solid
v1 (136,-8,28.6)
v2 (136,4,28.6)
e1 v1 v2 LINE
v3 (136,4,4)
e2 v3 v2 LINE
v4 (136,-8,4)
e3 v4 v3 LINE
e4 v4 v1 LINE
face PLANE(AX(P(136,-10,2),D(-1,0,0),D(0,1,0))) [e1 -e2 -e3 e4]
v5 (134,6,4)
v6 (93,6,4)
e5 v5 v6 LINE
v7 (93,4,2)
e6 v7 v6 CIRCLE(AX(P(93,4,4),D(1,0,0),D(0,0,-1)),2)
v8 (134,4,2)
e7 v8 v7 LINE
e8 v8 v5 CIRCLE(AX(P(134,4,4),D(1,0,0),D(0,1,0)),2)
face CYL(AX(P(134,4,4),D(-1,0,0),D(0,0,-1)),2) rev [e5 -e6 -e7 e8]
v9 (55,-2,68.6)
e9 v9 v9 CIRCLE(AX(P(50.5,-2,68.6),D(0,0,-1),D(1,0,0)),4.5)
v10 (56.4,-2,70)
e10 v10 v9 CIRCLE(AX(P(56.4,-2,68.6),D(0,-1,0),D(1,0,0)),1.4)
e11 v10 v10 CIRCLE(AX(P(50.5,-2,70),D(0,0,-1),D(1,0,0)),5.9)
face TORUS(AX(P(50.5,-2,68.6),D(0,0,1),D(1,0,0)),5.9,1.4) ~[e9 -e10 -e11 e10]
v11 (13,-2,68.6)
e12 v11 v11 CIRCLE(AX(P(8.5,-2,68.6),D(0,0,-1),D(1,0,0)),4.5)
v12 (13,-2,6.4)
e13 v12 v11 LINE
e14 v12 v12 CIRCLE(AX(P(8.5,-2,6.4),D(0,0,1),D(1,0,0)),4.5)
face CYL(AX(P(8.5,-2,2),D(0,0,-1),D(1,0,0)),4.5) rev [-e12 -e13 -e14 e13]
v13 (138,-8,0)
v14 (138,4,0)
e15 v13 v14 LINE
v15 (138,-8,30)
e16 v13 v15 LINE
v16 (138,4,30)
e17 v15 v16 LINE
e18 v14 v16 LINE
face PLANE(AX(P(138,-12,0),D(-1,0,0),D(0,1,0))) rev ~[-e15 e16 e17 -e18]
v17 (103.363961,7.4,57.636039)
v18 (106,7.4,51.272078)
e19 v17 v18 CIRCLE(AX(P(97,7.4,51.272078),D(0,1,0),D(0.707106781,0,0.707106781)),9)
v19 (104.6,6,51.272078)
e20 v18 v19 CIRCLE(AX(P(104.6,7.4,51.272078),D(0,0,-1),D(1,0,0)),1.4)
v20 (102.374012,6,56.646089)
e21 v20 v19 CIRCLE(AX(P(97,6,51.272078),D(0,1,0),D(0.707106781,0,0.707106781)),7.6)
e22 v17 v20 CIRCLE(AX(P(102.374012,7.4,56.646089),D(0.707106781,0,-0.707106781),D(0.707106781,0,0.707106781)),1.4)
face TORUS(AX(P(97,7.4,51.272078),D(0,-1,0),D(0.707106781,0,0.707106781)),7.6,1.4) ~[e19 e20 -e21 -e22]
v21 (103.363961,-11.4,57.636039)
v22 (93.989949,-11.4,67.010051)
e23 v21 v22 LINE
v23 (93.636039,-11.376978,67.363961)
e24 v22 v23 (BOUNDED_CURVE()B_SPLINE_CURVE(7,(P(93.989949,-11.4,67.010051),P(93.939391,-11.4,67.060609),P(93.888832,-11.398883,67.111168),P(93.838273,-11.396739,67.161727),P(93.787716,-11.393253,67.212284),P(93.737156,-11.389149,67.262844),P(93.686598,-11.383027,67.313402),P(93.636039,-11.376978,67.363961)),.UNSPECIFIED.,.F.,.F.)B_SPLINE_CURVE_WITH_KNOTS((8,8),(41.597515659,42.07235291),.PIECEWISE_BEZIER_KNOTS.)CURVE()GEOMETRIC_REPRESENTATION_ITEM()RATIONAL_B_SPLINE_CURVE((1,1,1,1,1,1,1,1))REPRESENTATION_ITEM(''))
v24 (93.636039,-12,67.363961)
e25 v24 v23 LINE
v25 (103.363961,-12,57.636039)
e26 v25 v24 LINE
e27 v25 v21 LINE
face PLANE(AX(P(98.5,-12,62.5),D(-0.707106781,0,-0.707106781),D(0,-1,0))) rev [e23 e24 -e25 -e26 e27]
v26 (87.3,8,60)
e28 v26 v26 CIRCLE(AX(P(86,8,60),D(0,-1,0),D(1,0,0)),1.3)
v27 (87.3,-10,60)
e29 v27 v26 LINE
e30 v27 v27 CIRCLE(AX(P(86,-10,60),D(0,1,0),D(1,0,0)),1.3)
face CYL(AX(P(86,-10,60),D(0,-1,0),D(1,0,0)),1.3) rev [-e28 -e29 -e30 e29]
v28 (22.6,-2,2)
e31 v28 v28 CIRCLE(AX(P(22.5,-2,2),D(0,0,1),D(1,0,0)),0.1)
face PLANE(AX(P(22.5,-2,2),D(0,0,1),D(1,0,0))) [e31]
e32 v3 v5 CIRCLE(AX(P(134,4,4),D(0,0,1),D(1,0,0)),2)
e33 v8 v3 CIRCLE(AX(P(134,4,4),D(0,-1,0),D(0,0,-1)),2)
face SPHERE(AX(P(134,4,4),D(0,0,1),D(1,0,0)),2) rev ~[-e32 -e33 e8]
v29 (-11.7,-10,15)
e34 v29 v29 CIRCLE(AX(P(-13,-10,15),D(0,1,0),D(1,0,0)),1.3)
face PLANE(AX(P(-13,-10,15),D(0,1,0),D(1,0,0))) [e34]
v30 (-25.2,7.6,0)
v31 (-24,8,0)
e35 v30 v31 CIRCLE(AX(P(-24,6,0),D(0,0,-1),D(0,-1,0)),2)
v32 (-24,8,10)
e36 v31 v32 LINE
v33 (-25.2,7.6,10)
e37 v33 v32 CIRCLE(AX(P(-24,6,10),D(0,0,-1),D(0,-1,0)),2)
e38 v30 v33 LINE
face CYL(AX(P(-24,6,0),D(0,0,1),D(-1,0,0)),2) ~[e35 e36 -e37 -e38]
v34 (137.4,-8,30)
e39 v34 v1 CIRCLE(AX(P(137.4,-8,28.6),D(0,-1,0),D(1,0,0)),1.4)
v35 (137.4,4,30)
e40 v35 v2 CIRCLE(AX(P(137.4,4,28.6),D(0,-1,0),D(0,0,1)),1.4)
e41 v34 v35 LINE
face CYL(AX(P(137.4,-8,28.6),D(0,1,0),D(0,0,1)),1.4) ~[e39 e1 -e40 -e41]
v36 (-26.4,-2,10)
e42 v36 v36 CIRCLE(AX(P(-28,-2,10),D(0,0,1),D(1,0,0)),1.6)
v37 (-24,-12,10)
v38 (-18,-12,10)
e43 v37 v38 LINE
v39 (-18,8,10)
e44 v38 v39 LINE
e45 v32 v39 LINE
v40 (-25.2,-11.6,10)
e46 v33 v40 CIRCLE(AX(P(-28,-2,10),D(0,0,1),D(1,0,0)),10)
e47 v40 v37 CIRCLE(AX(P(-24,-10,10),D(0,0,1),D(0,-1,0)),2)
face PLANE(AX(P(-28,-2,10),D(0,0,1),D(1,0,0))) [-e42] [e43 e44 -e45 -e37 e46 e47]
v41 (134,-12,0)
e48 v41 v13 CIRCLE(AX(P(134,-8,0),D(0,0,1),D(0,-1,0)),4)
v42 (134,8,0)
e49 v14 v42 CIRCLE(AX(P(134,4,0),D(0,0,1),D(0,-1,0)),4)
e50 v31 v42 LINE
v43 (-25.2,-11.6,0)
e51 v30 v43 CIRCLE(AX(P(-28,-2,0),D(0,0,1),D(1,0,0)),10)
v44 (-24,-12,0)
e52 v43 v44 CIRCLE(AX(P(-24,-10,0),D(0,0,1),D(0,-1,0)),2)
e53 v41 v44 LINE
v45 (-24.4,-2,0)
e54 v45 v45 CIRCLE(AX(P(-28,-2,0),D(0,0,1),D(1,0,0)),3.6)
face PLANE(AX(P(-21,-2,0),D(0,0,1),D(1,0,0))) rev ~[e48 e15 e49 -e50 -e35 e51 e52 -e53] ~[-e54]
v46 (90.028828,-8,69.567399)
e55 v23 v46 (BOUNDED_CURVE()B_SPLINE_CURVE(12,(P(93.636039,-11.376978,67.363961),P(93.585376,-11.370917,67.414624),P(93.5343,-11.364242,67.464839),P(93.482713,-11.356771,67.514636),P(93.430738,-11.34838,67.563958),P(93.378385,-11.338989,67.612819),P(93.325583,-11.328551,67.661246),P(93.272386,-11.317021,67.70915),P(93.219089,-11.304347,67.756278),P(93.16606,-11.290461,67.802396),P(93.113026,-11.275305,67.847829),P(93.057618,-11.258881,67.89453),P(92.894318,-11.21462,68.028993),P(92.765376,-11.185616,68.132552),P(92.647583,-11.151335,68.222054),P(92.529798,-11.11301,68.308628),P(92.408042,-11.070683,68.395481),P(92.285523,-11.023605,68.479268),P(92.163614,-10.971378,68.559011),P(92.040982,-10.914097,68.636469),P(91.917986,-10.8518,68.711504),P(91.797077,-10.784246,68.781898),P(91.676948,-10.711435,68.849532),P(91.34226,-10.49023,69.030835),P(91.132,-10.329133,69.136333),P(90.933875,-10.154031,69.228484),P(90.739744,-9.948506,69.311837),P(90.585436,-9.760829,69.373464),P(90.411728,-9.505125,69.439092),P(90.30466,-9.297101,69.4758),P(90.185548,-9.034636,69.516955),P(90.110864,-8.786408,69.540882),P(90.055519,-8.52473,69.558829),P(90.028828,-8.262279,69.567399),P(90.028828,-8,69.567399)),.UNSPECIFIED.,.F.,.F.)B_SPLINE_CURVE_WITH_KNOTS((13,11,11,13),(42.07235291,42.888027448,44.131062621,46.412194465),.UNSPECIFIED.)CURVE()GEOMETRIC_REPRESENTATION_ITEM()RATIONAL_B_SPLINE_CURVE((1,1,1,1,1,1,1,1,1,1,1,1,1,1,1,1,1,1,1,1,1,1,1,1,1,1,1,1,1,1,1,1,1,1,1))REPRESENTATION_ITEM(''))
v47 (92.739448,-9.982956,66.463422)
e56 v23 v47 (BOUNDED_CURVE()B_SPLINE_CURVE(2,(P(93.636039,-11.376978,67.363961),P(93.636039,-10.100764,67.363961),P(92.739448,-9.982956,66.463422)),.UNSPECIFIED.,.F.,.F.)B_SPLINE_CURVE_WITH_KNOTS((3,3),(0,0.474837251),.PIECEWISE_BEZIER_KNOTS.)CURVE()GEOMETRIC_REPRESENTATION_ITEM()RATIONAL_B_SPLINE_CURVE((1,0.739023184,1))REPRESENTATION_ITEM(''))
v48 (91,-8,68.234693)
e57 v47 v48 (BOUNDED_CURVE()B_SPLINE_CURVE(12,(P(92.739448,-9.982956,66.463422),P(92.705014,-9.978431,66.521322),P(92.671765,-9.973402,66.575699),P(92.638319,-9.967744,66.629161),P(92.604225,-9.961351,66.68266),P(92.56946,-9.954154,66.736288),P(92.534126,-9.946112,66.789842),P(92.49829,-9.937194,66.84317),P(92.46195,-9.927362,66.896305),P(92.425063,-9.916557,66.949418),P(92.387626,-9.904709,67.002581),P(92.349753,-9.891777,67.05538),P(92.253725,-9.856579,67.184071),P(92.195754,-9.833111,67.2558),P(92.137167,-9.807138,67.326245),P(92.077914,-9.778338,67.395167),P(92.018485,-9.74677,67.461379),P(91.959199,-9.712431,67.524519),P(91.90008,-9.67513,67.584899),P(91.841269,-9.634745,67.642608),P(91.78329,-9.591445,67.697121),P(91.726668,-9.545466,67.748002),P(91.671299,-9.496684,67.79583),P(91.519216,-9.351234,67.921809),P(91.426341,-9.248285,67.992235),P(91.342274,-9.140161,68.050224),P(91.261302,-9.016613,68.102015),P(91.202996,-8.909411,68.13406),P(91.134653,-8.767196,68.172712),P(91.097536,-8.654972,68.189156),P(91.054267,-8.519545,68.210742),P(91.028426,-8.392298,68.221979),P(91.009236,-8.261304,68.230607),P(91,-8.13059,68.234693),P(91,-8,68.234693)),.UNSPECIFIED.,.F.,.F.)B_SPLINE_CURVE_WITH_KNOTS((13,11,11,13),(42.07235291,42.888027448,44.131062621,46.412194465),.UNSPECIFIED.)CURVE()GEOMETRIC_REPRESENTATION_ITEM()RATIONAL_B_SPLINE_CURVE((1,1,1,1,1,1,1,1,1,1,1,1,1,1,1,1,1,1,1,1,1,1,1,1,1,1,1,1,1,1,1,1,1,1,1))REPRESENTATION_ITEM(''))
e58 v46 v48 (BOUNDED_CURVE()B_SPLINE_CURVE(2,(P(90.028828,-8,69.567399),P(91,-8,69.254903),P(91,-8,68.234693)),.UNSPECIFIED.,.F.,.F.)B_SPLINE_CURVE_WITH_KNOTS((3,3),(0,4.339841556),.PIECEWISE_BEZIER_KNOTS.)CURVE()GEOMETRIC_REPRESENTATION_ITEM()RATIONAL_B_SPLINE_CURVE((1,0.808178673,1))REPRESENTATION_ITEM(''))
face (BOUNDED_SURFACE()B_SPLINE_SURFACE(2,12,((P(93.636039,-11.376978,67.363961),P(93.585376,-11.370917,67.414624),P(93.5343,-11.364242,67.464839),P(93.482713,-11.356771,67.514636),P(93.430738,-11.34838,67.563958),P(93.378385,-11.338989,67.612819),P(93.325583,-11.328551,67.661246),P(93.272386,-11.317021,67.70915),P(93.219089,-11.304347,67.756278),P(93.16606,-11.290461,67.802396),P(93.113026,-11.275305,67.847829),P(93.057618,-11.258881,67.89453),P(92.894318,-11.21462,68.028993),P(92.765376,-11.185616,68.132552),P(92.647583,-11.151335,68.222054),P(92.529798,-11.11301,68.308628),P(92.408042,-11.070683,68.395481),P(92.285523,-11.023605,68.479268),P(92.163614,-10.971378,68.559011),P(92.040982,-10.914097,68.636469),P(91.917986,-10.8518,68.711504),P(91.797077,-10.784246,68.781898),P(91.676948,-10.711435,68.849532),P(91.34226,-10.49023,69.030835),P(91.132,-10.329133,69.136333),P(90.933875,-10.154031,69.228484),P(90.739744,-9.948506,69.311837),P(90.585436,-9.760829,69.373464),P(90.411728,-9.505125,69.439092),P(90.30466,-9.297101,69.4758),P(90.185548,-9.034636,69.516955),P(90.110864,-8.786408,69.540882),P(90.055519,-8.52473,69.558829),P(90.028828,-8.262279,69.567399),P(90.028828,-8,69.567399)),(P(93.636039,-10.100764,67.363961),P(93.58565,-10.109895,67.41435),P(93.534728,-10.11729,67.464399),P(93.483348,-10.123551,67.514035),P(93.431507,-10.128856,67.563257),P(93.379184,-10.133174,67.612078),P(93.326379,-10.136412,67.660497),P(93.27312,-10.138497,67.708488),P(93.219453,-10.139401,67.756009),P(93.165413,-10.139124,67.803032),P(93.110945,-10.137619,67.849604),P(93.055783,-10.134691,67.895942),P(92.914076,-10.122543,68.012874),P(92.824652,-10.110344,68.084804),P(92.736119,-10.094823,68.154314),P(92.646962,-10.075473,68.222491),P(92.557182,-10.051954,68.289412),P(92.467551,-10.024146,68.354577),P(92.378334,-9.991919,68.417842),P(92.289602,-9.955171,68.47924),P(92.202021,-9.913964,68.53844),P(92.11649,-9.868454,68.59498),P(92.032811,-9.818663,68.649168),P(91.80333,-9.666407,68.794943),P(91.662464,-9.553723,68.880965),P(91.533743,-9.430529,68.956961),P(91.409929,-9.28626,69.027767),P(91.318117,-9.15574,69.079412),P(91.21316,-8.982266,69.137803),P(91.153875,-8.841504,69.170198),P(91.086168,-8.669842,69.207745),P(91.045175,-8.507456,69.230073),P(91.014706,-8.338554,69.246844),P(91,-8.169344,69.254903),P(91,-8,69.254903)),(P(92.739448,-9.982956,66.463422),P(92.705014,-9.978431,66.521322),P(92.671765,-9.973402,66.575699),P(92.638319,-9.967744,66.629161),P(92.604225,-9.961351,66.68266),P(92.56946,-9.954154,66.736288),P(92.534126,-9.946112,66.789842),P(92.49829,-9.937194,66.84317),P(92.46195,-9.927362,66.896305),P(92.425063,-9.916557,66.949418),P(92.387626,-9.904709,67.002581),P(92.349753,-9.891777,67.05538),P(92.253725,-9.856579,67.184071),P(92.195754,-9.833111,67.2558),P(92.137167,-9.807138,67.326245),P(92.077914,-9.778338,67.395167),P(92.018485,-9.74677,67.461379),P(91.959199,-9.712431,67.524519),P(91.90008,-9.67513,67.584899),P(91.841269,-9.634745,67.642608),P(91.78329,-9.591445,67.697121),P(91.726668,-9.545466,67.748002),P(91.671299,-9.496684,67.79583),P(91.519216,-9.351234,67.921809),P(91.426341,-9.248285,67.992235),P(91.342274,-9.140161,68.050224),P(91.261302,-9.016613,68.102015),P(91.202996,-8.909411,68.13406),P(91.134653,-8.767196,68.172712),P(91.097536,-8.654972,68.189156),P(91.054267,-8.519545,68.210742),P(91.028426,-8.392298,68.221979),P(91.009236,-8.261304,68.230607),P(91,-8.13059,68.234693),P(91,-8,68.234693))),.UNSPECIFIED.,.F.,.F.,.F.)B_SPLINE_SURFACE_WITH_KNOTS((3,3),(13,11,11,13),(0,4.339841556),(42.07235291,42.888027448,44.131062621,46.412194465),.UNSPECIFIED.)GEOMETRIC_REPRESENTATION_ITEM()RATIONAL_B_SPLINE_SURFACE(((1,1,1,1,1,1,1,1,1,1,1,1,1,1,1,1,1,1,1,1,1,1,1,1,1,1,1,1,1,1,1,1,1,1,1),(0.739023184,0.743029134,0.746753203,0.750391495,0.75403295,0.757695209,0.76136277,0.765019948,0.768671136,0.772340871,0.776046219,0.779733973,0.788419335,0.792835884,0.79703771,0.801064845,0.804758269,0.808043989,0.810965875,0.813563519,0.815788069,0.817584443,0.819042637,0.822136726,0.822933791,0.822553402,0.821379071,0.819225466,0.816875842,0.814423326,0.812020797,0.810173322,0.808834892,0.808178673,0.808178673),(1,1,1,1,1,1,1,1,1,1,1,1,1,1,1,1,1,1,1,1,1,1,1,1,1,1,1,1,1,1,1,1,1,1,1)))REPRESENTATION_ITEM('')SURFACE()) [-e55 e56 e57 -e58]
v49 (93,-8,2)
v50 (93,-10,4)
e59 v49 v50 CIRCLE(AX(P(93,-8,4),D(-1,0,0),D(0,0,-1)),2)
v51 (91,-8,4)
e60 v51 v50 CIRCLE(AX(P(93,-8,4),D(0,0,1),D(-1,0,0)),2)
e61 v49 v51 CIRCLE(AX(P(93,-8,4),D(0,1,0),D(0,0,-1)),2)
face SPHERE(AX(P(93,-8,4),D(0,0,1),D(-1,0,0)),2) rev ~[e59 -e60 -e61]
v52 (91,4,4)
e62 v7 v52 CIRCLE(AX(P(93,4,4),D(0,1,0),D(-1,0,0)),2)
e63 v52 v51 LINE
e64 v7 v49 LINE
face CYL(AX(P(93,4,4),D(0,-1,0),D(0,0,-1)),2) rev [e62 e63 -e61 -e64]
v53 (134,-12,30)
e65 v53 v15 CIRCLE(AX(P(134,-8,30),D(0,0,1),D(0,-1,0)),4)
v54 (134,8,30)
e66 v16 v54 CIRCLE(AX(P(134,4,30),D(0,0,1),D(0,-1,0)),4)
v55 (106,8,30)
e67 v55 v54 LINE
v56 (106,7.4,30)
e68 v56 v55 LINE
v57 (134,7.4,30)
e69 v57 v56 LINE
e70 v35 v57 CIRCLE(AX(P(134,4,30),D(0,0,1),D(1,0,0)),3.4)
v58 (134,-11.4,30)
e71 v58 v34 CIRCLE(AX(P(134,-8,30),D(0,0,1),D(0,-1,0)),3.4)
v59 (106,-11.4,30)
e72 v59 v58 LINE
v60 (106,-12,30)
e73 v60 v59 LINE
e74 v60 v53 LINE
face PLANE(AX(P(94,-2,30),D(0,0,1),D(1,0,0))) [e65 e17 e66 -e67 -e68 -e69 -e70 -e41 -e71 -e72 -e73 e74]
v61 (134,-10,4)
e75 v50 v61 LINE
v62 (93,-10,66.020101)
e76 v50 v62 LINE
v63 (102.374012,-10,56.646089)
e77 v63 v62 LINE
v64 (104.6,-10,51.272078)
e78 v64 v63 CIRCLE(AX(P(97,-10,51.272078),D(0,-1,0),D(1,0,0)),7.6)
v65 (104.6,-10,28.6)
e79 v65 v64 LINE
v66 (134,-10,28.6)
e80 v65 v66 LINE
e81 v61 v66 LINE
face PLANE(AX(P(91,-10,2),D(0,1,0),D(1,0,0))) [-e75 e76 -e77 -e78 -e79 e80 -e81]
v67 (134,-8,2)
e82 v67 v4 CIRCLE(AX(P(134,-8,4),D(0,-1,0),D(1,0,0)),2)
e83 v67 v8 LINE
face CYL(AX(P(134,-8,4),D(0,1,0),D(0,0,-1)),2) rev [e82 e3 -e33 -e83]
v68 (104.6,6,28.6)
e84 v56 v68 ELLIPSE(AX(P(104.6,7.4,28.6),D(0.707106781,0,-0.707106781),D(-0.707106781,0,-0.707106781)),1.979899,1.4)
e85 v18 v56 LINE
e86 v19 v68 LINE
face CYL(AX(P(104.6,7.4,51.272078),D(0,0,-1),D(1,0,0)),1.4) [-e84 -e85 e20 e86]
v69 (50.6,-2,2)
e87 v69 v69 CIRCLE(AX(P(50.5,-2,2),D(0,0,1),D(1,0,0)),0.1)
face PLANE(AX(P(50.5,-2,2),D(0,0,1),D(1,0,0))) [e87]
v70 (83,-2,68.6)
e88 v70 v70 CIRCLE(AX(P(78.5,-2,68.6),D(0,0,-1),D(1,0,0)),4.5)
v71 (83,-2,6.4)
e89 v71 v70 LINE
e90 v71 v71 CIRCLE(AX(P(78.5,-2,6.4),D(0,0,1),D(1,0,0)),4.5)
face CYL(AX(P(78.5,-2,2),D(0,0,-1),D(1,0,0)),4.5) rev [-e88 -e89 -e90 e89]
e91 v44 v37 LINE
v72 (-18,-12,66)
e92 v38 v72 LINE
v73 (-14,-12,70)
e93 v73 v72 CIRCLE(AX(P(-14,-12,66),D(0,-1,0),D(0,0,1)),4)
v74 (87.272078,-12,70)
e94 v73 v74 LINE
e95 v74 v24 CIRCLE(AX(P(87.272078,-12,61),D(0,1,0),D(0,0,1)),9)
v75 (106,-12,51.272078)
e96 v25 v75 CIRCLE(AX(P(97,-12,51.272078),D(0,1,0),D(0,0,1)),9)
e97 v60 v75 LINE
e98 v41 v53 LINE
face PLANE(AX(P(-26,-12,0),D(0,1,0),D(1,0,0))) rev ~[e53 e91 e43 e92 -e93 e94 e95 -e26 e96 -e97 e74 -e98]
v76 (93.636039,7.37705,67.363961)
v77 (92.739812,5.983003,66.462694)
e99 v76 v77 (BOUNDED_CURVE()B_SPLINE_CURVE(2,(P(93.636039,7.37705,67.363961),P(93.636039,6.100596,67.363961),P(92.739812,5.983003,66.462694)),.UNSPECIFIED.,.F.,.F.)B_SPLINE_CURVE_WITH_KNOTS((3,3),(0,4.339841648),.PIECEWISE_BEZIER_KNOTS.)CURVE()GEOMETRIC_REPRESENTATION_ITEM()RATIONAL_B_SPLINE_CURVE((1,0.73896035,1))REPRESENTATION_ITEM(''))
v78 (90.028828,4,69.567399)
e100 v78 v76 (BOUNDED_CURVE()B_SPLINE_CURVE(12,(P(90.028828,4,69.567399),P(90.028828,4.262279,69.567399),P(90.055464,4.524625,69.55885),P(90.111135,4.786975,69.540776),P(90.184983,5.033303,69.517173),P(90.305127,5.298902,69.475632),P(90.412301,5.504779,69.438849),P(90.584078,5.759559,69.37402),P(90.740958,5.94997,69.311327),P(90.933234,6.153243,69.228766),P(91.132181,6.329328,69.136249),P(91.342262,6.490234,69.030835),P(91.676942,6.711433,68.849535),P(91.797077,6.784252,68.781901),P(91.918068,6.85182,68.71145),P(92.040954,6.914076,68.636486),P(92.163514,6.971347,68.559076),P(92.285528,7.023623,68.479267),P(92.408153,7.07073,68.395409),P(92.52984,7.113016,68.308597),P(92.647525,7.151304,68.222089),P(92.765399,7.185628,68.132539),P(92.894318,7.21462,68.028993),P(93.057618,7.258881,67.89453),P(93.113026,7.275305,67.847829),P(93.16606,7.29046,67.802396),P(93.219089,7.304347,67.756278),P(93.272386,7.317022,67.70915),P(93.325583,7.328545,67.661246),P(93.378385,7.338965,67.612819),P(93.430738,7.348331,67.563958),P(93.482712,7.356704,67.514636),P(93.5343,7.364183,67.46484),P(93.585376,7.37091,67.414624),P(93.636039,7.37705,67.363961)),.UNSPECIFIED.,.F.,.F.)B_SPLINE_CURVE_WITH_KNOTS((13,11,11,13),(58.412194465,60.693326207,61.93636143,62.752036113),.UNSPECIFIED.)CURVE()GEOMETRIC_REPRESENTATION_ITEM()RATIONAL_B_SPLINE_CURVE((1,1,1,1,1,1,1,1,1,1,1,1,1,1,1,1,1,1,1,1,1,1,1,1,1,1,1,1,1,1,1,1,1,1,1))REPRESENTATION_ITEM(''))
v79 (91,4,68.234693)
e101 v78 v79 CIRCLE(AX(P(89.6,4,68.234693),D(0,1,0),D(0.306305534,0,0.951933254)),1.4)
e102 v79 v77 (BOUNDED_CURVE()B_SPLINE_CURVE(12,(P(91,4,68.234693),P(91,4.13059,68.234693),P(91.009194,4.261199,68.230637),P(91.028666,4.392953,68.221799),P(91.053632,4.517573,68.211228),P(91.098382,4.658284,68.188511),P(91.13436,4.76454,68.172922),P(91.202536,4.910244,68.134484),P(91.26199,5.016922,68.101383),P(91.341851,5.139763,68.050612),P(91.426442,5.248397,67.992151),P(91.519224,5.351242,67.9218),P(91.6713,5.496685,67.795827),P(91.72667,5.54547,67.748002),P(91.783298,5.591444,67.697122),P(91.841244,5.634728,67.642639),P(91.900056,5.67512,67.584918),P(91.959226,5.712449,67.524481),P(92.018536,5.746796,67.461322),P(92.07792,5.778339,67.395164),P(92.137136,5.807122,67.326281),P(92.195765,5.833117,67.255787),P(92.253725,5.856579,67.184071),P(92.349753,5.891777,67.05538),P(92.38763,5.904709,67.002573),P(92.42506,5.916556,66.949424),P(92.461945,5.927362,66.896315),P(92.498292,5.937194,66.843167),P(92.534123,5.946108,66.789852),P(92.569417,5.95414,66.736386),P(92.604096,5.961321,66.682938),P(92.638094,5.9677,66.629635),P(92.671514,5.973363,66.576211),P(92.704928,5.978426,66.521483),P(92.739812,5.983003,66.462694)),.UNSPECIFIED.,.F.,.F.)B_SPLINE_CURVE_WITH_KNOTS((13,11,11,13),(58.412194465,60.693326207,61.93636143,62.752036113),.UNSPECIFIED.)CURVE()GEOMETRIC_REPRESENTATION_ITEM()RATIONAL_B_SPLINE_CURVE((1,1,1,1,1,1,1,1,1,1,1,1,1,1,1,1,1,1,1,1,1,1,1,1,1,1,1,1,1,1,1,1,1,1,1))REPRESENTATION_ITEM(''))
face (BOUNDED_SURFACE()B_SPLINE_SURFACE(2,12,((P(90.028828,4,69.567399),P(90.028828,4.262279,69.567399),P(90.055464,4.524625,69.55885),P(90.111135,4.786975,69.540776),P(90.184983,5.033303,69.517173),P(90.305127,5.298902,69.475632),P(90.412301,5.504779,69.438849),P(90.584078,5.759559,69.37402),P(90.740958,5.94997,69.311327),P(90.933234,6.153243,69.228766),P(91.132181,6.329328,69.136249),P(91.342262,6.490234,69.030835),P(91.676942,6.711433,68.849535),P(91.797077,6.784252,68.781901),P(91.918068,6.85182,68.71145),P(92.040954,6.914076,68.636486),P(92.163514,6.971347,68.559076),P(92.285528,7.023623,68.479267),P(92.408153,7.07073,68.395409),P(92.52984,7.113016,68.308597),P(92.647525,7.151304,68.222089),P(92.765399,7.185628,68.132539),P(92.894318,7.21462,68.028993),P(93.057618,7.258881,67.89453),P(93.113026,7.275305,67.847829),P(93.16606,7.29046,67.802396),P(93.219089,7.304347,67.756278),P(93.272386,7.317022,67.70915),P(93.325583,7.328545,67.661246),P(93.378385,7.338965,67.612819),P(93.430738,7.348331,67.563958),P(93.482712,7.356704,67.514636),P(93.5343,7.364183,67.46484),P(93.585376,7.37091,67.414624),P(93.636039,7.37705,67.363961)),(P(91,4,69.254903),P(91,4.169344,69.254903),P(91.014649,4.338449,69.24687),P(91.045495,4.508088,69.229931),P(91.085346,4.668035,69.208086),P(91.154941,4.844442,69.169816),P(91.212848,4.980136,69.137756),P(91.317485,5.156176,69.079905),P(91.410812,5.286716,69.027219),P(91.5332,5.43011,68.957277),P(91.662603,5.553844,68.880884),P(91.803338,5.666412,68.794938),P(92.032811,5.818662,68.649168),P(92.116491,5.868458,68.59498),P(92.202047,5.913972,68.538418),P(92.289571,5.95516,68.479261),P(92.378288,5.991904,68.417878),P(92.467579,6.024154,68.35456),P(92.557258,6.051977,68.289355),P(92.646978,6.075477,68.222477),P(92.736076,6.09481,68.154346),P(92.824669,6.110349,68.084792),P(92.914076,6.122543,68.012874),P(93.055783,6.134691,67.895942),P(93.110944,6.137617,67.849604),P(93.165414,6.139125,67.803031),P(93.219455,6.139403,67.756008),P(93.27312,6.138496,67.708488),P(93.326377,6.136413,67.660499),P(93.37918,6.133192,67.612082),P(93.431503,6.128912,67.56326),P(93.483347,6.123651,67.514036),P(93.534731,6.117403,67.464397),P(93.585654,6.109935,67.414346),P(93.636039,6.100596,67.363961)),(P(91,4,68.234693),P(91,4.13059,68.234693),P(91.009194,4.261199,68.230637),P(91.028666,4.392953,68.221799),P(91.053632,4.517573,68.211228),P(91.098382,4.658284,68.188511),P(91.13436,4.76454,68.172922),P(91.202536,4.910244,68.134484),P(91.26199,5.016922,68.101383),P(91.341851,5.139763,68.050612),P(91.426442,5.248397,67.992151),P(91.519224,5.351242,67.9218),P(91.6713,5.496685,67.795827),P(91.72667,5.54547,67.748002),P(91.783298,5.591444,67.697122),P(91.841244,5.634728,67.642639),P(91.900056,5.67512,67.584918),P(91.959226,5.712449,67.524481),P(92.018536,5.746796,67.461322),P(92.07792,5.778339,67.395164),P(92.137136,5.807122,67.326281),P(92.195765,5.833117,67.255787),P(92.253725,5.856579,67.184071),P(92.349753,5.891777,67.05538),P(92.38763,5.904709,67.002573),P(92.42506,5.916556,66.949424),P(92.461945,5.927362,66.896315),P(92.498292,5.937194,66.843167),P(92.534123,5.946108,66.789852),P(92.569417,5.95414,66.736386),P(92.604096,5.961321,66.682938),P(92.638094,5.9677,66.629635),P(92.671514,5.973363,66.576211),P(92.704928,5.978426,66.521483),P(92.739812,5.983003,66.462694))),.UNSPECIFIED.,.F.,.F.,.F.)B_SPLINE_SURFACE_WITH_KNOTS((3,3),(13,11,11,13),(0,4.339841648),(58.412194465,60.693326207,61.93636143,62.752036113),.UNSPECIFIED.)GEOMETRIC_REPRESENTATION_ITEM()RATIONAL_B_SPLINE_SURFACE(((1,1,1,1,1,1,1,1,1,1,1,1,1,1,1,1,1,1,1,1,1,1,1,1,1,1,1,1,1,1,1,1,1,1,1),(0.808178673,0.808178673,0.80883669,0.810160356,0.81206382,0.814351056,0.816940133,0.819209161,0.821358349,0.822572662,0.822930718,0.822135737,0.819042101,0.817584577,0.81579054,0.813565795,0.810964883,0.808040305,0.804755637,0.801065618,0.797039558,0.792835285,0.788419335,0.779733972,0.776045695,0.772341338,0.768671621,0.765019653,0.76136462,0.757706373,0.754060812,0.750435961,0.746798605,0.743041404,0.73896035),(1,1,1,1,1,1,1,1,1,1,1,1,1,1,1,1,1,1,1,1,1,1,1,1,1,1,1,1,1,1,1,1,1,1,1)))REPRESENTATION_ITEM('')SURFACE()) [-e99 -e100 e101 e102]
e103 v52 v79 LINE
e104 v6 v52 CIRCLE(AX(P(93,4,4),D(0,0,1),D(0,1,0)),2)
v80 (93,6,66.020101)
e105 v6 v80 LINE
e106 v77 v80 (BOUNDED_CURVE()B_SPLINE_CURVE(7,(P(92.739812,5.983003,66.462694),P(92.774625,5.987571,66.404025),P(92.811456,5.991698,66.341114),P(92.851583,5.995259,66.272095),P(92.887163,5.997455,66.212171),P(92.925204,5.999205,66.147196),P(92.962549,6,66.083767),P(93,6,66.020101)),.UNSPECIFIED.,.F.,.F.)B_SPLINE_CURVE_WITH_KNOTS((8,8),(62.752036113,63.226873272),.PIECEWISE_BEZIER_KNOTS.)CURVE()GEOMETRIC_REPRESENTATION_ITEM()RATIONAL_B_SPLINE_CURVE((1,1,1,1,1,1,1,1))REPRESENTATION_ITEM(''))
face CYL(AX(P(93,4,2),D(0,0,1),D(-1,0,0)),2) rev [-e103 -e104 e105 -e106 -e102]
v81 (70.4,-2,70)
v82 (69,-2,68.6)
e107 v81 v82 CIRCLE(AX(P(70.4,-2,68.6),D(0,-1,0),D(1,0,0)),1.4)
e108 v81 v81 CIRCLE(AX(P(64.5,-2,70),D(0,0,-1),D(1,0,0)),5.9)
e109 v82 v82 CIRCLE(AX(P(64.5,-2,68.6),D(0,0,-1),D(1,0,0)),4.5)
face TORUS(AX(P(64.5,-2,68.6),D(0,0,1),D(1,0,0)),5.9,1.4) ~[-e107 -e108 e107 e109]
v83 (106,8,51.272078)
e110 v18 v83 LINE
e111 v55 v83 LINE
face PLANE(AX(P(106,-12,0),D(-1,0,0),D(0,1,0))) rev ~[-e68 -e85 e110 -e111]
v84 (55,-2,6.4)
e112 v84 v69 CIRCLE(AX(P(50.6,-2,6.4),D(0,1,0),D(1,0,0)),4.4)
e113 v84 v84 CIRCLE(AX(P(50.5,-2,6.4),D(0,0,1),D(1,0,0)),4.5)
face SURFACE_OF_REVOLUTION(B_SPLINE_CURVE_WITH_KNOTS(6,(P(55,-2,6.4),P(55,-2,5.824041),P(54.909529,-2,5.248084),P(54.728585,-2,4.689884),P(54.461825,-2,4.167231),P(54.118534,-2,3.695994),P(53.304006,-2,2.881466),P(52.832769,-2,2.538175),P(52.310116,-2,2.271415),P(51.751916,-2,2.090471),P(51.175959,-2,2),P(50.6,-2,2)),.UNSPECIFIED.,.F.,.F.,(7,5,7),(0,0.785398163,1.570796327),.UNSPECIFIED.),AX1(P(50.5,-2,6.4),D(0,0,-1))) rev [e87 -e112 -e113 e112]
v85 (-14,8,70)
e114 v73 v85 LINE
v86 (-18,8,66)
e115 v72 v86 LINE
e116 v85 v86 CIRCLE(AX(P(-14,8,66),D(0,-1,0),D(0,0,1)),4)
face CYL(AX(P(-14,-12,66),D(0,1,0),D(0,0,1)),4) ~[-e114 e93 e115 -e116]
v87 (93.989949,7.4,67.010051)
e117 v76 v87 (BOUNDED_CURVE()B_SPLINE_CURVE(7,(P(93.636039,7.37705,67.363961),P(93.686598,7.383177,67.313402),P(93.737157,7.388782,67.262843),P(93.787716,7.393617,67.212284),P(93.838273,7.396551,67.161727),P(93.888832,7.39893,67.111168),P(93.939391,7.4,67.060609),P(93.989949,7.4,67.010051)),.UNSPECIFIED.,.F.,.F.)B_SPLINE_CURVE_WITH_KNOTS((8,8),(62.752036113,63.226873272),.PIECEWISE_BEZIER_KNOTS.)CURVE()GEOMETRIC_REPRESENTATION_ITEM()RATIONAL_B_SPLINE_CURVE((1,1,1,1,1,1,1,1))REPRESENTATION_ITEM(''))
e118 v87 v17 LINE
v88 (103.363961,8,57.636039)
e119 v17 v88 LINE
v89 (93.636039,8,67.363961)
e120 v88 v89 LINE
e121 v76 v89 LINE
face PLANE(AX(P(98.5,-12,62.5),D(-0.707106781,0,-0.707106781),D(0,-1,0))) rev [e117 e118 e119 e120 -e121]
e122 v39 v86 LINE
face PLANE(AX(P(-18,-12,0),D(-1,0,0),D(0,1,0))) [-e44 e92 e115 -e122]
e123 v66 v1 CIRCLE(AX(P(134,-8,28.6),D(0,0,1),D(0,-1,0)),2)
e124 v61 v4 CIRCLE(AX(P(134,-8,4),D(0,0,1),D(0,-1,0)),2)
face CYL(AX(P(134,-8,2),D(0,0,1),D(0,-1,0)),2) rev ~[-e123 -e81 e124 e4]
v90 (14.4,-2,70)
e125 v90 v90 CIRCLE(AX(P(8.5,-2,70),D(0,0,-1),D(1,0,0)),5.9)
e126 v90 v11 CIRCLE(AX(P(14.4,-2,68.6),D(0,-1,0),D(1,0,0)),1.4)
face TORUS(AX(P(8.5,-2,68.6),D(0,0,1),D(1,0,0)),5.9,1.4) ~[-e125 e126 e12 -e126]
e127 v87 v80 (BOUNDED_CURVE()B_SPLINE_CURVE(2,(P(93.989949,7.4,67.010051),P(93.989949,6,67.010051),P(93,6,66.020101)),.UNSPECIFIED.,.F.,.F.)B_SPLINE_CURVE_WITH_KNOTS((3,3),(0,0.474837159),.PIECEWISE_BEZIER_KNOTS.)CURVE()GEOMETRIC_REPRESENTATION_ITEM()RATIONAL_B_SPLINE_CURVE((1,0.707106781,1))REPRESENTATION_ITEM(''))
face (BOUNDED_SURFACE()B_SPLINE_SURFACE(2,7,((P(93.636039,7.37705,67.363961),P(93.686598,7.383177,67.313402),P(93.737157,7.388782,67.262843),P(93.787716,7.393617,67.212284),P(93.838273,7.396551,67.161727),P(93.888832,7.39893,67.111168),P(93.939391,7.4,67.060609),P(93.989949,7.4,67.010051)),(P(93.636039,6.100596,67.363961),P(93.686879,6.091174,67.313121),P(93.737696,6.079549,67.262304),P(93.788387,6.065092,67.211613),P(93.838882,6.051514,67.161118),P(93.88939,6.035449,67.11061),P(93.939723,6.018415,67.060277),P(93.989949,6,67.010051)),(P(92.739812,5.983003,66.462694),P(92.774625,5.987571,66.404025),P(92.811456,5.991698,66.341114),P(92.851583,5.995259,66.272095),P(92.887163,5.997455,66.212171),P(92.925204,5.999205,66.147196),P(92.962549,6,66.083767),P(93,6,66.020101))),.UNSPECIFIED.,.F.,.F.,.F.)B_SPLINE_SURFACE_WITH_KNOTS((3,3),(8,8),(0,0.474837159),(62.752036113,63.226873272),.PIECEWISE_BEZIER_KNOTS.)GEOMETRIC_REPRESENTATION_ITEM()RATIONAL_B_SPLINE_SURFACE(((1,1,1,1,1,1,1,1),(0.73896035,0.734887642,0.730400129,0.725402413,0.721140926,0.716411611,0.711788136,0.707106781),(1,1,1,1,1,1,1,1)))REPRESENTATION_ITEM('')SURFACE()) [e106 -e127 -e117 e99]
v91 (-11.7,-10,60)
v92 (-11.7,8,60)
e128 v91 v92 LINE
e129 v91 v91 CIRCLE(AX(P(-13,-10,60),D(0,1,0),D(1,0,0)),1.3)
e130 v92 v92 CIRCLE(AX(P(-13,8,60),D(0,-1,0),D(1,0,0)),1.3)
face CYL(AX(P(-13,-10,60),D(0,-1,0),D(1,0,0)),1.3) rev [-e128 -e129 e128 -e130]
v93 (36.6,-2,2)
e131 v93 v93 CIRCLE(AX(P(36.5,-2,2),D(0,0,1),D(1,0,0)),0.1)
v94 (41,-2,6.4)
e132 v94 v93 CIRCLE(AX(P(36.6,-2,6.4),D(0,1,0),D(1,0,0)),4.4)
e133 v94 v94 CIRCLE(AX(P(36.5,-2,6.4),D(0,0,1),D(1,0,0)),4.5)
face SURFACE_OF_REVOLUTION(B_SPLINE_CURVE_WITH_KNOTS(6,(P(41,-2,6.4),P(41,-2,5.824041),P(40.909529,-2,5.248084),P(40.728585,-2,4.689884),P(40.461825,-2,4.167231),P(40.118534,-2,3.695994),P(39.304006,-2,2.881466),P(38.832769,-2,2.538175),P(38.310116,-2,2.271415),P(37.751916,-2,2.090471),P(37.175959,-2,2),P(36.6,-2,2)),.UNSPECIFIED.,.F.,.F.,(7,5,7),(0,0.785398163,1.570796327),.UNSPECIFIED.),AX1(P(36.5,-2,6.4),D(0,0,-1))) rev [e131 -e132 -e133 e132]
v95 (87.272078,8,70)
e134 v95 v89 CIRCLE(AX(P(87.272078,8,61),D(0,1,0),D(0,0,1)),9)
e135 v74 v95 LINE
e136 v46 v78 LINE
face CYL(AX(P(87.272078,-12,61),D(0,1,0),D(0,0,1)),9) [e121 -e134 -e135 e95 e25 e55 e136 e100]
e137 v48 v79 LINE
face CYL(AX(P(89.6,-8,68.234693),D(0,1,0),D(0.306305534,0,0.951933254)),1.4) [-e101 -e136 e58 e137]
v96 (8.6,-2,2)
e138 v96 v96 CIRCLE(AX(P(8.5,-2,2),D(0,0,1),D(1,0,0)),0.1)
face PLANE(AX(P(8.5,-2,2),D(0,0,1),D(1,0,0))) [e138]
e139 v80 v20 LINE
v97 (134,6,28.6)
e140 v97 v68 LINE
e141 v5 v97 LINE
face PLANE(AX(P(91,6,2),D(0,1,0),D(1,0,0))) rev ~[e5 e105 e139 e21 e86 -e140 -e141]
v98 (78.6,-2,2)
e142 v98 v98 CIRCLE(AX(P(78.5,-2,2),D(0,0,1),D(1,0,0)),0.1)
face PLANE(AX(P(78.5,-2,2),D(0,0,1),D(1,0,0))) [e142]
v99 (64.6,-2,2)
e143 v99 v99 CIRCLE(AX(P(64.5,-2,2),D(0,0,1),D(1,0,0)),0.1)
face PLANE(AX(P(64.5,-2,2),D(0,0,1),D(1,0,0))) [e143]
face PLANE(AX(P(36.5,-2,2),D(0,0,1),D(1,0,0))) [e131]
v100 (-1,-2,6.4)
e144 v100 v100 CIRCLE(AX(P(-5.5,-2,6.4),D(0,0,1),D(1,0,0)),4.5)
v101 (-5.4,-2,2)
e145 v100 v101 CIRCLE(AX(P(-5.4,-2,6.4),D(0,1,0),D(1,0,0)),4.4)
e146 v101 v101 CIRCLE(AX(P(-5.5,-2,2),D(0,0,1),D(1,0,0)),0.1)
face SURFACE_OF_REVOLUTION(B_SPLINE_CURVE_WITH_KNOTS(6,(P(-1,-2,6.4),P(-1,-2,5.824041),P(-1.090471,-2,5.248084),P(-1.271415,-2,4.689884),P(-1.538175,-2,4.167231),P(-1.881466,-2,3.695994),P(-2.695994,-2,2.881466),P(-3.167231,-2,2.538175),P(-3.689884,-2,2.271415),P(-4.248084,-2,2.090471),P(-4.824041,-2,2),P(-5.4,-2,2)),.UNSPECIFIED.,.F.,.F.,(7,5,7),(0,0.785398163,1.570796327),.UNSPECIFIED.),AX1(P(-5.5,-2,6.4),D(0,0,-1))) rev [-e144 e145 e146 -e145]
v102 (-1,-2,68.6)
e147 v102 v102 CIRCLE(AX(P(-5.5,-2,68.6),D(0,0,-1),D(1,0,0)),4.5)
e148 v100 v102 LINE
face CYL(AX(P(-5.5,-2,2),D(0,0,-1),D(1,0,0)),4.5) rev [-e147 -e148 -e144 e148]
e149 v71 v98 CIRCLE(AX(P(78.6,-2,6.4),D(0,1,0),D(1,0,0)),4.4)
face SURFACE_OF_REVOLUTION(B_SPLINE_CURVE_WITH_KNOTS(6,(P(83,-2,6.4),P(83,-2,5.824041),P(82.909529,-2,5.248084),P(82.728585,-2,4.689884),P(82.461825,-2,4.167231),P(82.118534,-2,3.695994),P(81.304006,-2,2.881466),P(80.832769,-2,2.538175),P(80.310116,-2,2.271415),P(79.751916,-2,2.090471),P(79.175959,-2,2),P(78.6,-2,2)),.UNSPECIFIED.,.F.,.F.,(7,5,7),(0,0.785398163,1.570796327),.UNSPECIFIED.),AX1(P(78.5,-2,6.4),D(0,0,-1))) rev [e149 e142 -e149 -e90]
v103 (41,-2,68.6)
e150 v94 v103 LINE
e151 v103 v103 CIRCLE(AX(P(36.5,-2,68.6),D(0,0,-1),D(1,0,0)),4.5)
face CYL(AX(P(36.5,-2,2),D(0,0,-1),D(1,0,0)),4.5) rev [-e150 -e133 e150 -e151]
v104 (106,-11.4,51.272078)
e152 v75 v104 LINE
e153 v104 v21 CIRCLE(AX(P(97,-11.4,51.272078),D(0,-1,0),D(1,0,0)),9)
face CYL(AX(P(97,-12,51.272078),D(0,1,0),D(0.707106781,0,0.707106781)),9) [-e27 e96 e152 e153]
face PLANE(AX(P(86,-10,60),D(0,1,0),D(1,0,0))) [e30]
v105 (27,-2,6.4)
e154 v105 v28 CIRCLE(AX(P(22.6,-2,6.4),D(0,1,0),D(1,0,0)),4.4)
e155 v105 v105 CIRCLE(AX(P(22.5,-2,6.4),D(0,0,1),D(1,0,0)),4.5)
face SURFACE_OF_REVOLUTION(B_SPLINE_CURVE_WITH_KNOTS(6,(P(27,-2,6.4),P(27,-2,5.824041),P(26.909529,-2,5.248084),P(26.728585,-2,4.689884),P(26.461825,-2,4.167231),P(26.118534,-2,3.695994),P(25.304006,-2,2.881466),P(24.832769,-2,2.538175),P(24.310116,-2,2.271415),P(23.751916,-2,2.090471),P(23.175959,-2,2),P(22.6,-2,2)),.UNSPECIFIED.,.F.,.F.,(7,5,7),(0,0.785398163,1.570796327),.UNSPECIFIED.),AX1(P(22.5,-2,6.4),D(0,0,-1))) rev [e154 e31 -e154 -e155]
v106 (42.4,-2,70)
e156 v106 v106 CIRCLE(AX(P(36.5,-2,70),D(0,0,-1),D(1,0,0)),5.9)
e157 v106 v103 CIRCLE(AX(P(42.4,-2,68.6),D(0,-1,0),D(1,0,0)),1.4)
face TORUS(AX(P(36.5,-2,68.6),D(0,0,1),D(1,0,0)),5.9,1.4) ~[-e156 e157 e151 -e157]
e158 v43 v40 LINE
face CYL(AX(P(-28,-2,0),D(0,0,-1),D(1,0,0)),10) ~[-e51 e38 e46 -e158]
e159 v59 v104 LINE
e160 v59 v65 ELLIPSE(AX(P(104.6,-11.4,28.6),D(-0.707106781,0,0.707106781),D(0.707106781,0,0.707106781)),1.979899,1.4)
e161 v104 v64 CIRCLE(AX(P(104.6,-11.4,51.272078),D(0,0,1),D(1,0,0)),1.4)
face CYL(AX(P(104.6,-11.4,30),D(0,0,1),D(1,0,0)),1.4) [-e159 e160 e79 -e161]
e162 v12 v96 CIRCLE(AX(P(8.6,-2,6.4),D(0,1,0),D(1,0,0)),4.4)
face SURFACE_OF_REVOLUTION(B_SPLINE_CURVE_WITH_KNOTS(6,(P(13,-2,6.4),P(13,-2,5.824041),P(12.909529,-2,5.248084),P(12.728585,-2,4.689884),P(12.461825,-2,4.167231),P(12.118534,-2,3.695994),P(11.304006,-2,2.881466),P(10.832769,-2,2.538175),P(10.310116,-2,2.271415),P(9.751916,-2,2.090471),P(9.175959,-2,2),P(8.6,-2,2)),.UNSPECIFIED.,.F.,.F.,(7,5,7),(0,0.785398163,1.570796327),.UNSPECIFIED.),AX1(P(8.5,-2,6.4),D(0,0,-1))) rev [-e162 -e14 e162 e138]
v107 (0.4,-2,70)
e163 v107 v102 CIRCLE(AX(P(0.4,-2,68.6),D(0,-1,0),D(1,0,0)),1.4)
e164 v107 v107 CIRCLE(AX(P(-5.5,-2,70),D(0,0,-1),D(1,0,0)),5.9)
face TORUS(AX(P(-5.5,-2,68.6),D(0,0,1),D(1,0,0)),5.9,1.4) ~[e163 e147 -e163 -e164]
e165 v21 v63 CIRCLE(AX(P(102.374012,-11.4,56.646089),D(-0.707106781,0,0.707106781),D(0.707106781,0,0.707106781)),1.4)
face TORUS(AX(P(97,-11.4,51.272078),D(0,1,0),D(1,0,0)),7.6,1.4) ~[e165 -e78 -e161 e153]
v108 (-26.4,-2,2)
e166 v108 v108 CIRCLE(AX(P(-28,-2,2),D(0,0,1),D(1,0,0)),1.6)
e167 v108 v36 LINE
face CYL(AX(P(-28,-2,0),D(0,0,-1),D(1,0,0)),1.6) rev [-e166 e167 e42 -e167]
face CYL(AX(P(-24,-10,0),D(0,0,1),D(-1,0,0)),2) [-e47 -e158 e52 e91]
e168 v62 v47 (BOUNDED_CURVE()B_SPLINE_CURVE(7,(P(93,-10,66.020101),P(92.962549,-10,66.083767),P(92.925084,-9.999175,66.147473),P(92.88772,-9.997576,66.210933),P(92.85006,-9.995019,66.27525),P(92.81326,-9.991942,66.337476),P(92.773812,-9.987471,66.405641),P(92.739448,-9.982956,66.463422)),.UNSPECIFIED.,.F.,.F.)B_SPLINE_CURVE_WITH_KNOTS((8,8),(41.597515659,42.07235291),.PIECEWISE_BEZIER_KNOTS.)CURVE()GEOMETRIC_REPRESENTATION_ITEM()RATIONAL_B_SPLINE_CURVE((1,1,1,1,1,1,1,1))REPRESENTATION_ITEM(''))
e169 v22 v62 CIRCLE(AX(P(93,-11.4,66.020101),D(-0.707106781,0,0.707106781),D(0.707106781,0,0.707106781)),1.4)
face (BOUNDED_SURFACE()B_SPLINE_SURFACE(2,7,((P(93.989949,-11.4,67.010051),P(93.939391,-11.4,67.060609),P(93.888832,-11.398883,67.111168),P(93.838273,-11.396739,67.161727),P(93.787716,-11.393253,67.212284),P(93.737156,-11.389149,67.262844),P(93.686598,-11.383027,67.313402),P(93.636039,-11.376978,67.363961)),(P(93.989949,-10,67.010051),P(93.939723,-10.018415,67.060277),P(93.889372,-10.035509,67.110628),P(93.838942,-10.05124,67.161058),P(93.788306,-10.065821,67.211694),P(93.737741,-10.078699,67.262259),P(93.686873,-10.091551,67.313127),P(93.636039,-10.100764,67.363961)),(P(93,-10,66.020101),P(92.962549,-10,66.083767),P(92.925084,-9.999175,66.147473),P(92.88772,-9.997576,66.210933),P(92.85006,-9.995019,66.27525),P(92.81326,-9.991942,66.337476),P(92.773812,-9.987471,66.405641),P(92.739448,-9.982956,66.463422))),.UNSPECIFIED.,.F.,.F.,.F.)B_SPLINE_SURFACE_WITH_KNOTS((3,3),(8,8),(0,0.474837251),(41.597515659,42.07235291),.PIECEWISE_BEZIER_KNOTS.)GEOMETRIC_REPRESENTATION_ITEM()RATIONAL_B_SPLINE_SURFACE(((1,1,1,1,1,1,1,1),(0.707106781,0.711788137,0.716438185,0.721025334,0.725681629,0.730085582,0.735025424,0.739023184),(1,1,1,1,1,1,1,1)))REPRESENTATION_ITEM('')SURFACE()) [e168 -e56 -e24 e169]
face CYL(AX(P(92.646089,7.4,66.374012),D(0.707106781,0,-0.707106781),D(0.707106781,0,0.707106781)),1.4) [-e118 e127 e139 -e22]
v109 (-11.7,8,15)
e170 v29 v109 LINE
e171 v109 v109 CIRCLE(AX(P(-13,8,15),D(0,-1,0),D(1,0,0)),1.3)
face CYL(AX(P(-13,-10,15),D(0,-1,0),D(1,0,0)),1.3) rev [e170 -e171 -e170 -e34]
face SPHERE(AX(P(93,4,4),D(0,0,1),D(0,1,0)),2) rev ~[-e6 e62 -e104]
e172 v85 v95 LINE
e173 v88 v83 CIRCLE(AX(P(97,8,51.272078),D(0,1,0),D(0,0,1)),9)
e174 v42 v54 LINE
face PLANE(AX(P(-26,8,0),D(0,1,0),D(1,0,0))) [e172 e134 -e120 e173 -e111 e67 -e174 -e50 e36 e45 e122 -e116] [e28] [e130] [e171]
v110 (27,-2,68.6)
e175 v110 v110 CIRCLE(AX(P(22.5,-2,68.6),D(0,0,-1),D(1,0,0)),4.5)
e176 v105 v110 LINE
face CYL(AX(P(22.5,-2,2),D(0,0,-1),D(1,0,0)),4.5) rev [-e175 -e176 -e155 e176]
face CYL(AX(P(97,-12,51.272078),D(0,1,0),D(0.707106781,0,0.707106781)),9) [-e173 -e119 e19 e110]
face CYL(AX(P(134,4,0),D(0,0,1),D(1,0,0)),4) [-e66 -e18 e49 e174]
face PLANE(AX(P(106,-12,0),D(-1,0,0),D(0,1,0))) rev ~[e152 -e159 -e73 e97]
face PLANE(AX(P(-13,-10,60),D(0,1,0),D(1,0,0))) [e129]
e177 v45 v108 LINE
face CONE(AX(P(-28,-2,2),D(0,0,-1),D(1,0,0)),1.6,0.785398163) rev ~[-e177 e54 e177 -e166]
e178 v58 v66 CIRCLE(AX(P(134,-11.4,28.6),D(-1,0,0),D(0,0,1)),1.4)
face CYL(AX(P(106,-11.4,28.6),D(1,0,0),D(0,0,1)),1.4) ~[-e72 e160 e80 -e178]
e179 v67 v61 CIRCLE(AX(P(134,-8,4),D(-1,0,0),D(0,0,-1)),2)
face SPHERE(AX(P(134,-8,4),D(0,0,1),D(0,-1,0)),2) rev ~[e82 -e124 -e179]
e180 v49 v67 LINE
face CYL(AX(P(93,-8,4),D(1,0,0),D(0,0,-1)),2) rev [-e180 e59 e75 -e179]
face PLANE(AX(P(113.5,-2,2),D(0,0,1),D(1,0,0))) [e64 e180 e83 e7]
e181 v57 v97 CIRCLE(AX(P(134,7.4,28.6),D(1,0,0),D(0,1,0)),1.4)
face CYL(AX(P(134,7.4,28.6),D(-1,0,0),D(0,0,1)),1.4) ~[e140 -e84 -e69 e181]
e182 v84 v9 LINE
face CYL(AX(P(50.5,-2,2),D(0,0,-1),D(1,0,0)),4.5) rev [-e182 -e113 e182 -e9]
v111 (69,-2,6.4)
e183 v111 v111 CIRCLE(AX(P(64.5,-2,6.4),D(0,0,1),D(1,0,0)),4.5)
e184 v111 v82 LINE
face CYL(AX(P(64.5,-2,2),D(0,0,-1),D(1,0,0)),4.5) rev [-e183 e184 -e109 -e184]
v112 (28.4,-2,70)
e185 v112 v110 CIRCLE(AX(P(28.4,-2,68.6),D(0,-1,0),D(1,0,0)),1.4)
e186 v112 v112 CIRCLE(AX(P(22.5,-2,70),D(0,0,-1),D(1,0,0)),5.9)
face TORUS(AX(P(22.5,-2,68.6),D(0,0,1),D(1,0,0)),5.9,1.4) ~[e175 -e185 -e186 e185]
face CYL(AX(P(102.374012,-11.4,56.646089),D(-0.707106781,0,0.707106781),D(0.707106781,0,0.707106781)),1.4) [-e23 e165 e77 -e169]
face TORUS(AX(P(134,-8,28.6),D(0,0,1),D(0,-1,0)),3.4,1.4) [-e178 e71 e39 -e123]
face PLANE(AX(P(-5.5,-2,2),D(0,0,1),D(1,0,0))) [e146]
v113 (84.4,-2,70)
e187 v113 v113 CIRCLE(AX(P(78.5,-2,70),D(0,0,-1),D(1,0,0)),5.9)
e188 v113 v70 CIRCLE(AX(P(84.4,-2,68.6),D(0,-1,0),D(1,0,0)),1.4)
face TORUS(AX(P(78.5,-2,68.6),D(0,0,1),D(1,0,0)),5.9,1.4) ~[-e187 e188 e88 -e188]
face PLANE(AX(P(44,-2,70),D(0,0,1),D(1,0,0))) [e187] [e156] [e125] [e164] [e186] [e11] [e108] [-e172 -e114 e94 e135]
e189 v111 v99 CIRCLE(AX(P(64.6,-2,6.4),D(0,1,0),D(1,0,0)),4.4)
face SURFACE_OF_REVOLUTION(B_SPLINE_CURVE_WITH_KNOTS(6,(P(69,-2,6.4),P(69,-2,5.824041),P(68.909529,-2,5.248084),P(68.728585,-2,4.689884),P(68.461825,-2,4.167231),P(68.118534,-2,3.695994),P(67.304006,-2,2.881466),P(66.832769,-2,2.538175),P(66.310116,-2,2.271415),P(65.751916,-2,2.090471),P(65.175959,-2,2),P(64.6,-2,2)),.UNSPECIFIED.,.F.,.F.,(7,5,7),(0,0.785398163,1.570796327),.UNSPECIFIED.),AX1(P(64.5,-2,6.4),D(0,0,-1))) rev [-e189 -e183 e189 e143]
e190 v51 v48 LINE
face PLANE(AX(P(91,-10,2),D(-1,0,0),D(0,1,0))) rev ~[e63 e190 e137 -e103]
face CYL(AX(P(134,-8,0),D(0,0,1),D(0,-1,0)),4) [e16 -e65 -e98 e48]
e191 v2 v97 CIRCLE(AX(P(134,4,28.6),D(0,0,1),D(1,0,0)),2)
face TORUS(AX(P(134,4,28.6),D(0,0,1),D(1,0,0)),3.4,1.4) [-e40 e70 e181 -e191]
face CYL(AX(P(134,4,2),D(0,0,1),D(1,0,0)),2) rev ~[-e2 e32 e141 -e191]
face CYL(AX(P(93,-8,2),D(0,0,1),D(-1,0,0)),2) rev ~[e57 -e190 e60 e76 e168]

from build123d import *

# Parameters (mm, degrees)
TUBE008_R         = 10
TUBE008_R_2       = 1.6
TUBE008_DEPTH     = 10
BOX019_W          = 10
BOX019_H          = 20
BOX019_DEPTH      = 10
FILLET073_R       = 2
CHAMFER026_SIZE   = 2
CYLINDER060_R     = 1.3
CYLINDER060_DEPTH = 25
CYLINDER054_R     = 1.3
CYLINDER054_DEPTH = 25
BOX022_W          = 45
BOX022_H          = 16
BOX022_DEPTH      = 120
FILLET081_R       = 2
FILLET082_R       = 2
CYLINDER094_R     = 4.5
CYLINDER094_DEPTH = 120
FILLET137_R       = 4.4
CYLINDER093_R     = 4.5
CYLINDER093_DEPTH = 120
FILLET136_R       = 4.4
CYLINDER052_R     = 4.5
CYLINDER052_DEPTH = 120
FILLET072_R       = 4.4
CYLINDER051_R     = 4.5
CYLINDER051_DEPTH = 120
FILLET071_R       = 4.4
CYLINDER050_R     = 4.5
CYLINDER050_DEPTH = 120
FILLET070_R       = 4.4
CYLINDER049_R     = 4.5
CYLINDER049_DEPTH = 120
FILLET069_R       = 4.4
CYLINDER055_R     = 4.5
CYLINDER055_DEPTH = 120
FILLET079_R       = 4.4
CYLINDER053_R     = 1.3
CYLINDER053_DEPTH = 25
BOX021_W          = 88
BOX021_H          = 20
BOX021_DEPTH      = 30
FILLET085_R       = 4
BOX024_W          = 124
BOX024_H          = 20
BOX024_DEPTH      = 70
CHAMFER036_SIZE   = 15
FILLET138_R       = 4
FILLET139_R       = 9
FILLET140_R       = 9
FILLET149_R       = 1.4


with BuildPart() as tube008:
    # Tube008 → Tube008 (new body)
    with BuildSketch(Plane(origin=(-28, -2, 0), x_dir=(1, 0, 0), z_dir=(0, 0, 1))):
        Circle(TUBE008_R)
        Circle(TUBE008_R_2, mode=Mode.SUBTRACT)
    extrude(amount=TUBE008_DEPTH)


with BuildPart() as chamfer026:
    # Box019 → Box019 (new body)
    with BuildSketch(Plane(origin=(-26, -12, 0), x_dir=(1, 0, 0), z_dir=(0, 0, 1))):
        with Locations((5, 10)):
            Rectangle(BOX019_W, BOX019_H)
    extrude(amount=BOX019_DEPTH)

    # Fillet073
    fillet073_edges = [chamfer026.edges().sort_by_distance(p)[0] for p in [
        (-26, -12, 5),
        (-26, 8, 5),
    ]]
    fillet(fillet073_edges, radius=FILLET073_R)

    # Fusion035: union Tube008
    add(tube008.part)

    # Chamfer026
    chamfer026_edges = [chamfer026.edges().sort_by_distance(p)[0] for p in [
        (-29.6, -2, 0),
    ]]
    chamfer(chamfer026_edges, length=CHAMFER026_SIZE)


with BuildPart() as screwholle018:
    # Cylinder060 → Cylinder060 (new body)
    with BuildSketch(Plane(origin=(-13, -10, 60), x_dir=(1, 0, 0), z_dir=(0, 1, 0))):
        Circle(CYLINDER060_R)
    extrude(amount=CYLINDER060_DEPTH)


with BuildPart() as screwholle014:
    # Cylinder054 → Cylinder054 (new body)
    with BuildSketch(Plane(origin=(86, -10, 60), x_dir=(1, 0, 0), z_dir=(0, 1, 0))):
        Circle(CYLINDER054_R)
    extrude(amount=CYLINDER054_DEPTH)


with BuildPart() as fillet082:
    # Box022 → Box022 (new body)
    with BuildSketch(Plane(origin=(91, -10, 2), x_dir=(1, 0, 0), z_dir=(0, 0, 1))):
        with Locations((22.5, 8)):
            Rectangle(BOX022_W, BOX022_H)
    extrude(amount=BOX022_DEPTH)

    # Fillet081
    fillet081_edges = [fillet082.edges().sort_by_distance(p)[0] for p in [
        (91, -10, 62),
        (91, 6, 62),
        (136, -10, 62),
        (136, 6, 62),
    ]]
    fillet(fillet081_edges, radius=FILLET081_R)

    # Fillet082
    fillet082_edges = [fillet082.edges().sort_by_distance(p)[0] for p in [
        (113.5, -10, 2),
    ]]
    fillet(fillet082_edges, radius=FILLET082_R)


with BuildPart() as fillet138:
    # Cylinder094 → Cylinder094 (new body)
    with BuildSketch(Plane(origin=(78.5, -2, 2), x_dir=(1, 0, 0), z_dir=(0, 0, 1))):
        Circle(CYLINDER094_R)
    extrude(amount=CYLINDER094_DEPTH)

    # Fillet137
    fillet137_edges = [fillet138.edges().sort_by_distance(p)[0] for p in [
        (74, -2, 2),
    ]]
    fillet(fillet137_edges, radius=FILLET137_R)


with BuildPart() as fillet137:
    # Cylinder093 → Cylinder093 (new body)
    with BuildSketch(Plane(origin=(64.5, -2, 2), x_dir=(1, 0, 0), z_dir=(0, 0, 1))):
        Circle(CYLINDER093_R)
    extrude(amount=CYLINDER093_DEPTH)

    # Fillet136
    fillet136_edges = [fillet137.edges().sort_by_distance(p)[0] for p in [
        (60, -2, 2),
    ]]
    fillet(fillet136_edges, radius=FILLET136_R)


with BuildPart() as fillet072:
    # Cylinder052 → Cylinder052 (new body)
    with BuildSketch(Plane(origin=(50.5, -2, 2), x_dir=(1, 0, 0), z_dir=(0, 0, 1))):
        Circle(CYLINDER052_R)
    extrude(amount=CYLINDER052_DEPTH)

    # Fillet072
    fillet072_edges = [fillet072.edges().sort_by_distance(p)[0] for p in [
        (46, -2, 2),
    ]]
    fillet(fillet072_edges, radius=FILLET072_R)


with BuildPart() as fillet071:
    # Cylinder051 → Cylinder051 (new body)
    with BuildSketch(Plane(origin=(36.5, -2, 2), x_dir=(1, 0, 0), z_dir=(0, 0, 1))):
        Circle(CYLINDER051_R)
    extrude(amount=CYLINDER051_DEPTH)

    # Fillet071
    fillet071_edges = [fillet071.edges().sort_by_distance(p)[0] for p in [
        (32, -2, 2),
    ]]
    fillet(fillet071_edges, radius=FILLET071_R)


with BuildPart() as fillet070:
    # Cylinder050 → Cylinder050 (new body)
    with BuildSketch(Plane(origin=(22.5, -2, 2), x_dir=(1, 0, 0), z_dir=(0, 0, 1))):
        Circle(CYLINDER050_R)
    extrude(amount=CYLINDER050_DEPTH)

    # Fillet070
    fillet070_edges = [fillet070.edges().sort_by_distance(p)[0] for p in [
        (18, -2, 2),
    ]]
    fillet(fillet070_edges, radius=FILLET070_R)


with BuildPart() as fillet069:
    # Cylinder049 → Cylinder049 (new body)
    with BuildSketch(Plane(origin=(8.5, -2, 2), x_dir=(1, 0, 0), z_dir=(0, 0, 1))):
        Circle(CYLINDER049_R)
    extrude(amount=CYLINDER049_DEPTH)

    # Fillet069
    fillet069_edges = [fillet069.edges().sort_by_distance(p)[0] for p in [
        (4, -2, 2),
    ]]
    fillet(fillet069_edges, radius=FILLET069_R)


with BuildPart() as fillet079:
    # Cylinder055 → Cylinder055 (new body)
    with BuildSketch(Plane(origin=(-5.5, -2, 2), x_dir=(1, 0, 0), z_dir=(0, 0, 1))):
        Circle(CYLINDER055_R)
    extrude(amount=CYLINDER055_DEPTH)

    # Fillet079
    fillet079_edges = [fillet079.edges().sort_by_distance(p)[0] for p in [
        (-10, -2, 2),
    ]]
    fillet(fillet079_edges, radius=FILLET079_R)


with BuildPart() as fusion057:
    # Cylinder053 → Cylinder053 (new body)
    with BuildSketch(Plane(origin=(-13, -10, 15), x_dir=(1, 0, 0), z_dir=(0, 1, 0))):
        Circle(CYLINDER053_R)
    extrude(amount=CYLINDER053_DEPTH)

    # Fusion057: union ScrewHolle018, ScrewHolle014, Fillet082, Fillet138, Fillet137, Fillet072, Fillet071, Fillet070, Fillet069, Fillet079
    add(screwholle018.part)
    add(screwholle014.part)
    add(fillet082.part)
    add(fillet138.part)
    add(fillet137.part)
    add(fillet072.part)
    add(fillet071.part)
    add(fillet070.part)
    add(fillet069.part)
    add(fillet079.part)


with BuildPart() as fillet085:
    # Box021 → Box021 (new body)
    with BuildSketch(Plane(origin=(50, -12, 0), x_dir=(1, 0, 0), z_dir=(0, 0, 1))):
        with Locations((44, 10)):
            Rectangle(BOX021_W, BOX021_H)
    extrude(amount=BOX021_DEPTH)

    # Fillet085
    fillet085_edges = [fillet085.edges().sort_by_distance(p)[0] for p in [
        (138, -12, 15),
        (138, 8, 15),
    ]]
    fillet(fillet085_edges, radius=FILLET085_R)


with BuildPart() as holder:
    # Box024 → Box024 (new body)
    with BuildSketch(Plane(origin=(-18, -12, 0), x_dir=(1, 0, 0), z_dir=(0, 0, 1))):
        with Locations((62, 10)):
            Rectangle(BOX024_W, BOX024_H)
    extrude(amount=BOX024_DEPTH)

    # Chamfer036
    chamfer036_edges = [holder.edges().sort_by_distance(p)[0] for p in [
        (106, -2, 70),
    ]]
    chamfer(chamfer036_edges, length=CHAMFER036_SIZE)

    # Fillet138
    fillet138_edges = [holder.edges().sort_by_distance(p)[0] for p in [
        (-18, -2, 70),
    ]]
    fillet(fillet138_edges, radius=FILLET138_R)

    # Fillet139
    fillet139_edges = [holder.edges().sort_by_distance(p)[0] for p in [
        (91, -2, 70),
    ]]
    fillet(fillet139_edges, radius=FILLET139_R)

    # Fillet140
    fillet140_edges = [holder.edges().sort_by_distance(p)[0] for p in [
        (106, -2, 55),
    ]]
    fillet(fillet140_edges, radius=FILLET140_R)

    # Fusion058: union Fillet085
    add(fillet085.part)

    # Cut018: cut Fusion057
    add(fusion057.part, mode=Mode.SUBTRACT)

    # Fusion059: union Chamfer026
    add(chamfer026.part)

    # Fillet149
    fillet149_edges = [holder.edges().sort_by_distance(p)[0] for p in [
        (91, -2, 69.191617),
        (-10, -2, 70),
        (4, -2, 70),
        (18, -2, 70),
        (32, -2, 70),
        (46, -2, 70),
        (60, -2, 70),
        (74, -2, 70),
        (120, 6, 30),
    ]]
    fillet(fillet149_edges, radius=FILLET149_R)


solid = holder.part
